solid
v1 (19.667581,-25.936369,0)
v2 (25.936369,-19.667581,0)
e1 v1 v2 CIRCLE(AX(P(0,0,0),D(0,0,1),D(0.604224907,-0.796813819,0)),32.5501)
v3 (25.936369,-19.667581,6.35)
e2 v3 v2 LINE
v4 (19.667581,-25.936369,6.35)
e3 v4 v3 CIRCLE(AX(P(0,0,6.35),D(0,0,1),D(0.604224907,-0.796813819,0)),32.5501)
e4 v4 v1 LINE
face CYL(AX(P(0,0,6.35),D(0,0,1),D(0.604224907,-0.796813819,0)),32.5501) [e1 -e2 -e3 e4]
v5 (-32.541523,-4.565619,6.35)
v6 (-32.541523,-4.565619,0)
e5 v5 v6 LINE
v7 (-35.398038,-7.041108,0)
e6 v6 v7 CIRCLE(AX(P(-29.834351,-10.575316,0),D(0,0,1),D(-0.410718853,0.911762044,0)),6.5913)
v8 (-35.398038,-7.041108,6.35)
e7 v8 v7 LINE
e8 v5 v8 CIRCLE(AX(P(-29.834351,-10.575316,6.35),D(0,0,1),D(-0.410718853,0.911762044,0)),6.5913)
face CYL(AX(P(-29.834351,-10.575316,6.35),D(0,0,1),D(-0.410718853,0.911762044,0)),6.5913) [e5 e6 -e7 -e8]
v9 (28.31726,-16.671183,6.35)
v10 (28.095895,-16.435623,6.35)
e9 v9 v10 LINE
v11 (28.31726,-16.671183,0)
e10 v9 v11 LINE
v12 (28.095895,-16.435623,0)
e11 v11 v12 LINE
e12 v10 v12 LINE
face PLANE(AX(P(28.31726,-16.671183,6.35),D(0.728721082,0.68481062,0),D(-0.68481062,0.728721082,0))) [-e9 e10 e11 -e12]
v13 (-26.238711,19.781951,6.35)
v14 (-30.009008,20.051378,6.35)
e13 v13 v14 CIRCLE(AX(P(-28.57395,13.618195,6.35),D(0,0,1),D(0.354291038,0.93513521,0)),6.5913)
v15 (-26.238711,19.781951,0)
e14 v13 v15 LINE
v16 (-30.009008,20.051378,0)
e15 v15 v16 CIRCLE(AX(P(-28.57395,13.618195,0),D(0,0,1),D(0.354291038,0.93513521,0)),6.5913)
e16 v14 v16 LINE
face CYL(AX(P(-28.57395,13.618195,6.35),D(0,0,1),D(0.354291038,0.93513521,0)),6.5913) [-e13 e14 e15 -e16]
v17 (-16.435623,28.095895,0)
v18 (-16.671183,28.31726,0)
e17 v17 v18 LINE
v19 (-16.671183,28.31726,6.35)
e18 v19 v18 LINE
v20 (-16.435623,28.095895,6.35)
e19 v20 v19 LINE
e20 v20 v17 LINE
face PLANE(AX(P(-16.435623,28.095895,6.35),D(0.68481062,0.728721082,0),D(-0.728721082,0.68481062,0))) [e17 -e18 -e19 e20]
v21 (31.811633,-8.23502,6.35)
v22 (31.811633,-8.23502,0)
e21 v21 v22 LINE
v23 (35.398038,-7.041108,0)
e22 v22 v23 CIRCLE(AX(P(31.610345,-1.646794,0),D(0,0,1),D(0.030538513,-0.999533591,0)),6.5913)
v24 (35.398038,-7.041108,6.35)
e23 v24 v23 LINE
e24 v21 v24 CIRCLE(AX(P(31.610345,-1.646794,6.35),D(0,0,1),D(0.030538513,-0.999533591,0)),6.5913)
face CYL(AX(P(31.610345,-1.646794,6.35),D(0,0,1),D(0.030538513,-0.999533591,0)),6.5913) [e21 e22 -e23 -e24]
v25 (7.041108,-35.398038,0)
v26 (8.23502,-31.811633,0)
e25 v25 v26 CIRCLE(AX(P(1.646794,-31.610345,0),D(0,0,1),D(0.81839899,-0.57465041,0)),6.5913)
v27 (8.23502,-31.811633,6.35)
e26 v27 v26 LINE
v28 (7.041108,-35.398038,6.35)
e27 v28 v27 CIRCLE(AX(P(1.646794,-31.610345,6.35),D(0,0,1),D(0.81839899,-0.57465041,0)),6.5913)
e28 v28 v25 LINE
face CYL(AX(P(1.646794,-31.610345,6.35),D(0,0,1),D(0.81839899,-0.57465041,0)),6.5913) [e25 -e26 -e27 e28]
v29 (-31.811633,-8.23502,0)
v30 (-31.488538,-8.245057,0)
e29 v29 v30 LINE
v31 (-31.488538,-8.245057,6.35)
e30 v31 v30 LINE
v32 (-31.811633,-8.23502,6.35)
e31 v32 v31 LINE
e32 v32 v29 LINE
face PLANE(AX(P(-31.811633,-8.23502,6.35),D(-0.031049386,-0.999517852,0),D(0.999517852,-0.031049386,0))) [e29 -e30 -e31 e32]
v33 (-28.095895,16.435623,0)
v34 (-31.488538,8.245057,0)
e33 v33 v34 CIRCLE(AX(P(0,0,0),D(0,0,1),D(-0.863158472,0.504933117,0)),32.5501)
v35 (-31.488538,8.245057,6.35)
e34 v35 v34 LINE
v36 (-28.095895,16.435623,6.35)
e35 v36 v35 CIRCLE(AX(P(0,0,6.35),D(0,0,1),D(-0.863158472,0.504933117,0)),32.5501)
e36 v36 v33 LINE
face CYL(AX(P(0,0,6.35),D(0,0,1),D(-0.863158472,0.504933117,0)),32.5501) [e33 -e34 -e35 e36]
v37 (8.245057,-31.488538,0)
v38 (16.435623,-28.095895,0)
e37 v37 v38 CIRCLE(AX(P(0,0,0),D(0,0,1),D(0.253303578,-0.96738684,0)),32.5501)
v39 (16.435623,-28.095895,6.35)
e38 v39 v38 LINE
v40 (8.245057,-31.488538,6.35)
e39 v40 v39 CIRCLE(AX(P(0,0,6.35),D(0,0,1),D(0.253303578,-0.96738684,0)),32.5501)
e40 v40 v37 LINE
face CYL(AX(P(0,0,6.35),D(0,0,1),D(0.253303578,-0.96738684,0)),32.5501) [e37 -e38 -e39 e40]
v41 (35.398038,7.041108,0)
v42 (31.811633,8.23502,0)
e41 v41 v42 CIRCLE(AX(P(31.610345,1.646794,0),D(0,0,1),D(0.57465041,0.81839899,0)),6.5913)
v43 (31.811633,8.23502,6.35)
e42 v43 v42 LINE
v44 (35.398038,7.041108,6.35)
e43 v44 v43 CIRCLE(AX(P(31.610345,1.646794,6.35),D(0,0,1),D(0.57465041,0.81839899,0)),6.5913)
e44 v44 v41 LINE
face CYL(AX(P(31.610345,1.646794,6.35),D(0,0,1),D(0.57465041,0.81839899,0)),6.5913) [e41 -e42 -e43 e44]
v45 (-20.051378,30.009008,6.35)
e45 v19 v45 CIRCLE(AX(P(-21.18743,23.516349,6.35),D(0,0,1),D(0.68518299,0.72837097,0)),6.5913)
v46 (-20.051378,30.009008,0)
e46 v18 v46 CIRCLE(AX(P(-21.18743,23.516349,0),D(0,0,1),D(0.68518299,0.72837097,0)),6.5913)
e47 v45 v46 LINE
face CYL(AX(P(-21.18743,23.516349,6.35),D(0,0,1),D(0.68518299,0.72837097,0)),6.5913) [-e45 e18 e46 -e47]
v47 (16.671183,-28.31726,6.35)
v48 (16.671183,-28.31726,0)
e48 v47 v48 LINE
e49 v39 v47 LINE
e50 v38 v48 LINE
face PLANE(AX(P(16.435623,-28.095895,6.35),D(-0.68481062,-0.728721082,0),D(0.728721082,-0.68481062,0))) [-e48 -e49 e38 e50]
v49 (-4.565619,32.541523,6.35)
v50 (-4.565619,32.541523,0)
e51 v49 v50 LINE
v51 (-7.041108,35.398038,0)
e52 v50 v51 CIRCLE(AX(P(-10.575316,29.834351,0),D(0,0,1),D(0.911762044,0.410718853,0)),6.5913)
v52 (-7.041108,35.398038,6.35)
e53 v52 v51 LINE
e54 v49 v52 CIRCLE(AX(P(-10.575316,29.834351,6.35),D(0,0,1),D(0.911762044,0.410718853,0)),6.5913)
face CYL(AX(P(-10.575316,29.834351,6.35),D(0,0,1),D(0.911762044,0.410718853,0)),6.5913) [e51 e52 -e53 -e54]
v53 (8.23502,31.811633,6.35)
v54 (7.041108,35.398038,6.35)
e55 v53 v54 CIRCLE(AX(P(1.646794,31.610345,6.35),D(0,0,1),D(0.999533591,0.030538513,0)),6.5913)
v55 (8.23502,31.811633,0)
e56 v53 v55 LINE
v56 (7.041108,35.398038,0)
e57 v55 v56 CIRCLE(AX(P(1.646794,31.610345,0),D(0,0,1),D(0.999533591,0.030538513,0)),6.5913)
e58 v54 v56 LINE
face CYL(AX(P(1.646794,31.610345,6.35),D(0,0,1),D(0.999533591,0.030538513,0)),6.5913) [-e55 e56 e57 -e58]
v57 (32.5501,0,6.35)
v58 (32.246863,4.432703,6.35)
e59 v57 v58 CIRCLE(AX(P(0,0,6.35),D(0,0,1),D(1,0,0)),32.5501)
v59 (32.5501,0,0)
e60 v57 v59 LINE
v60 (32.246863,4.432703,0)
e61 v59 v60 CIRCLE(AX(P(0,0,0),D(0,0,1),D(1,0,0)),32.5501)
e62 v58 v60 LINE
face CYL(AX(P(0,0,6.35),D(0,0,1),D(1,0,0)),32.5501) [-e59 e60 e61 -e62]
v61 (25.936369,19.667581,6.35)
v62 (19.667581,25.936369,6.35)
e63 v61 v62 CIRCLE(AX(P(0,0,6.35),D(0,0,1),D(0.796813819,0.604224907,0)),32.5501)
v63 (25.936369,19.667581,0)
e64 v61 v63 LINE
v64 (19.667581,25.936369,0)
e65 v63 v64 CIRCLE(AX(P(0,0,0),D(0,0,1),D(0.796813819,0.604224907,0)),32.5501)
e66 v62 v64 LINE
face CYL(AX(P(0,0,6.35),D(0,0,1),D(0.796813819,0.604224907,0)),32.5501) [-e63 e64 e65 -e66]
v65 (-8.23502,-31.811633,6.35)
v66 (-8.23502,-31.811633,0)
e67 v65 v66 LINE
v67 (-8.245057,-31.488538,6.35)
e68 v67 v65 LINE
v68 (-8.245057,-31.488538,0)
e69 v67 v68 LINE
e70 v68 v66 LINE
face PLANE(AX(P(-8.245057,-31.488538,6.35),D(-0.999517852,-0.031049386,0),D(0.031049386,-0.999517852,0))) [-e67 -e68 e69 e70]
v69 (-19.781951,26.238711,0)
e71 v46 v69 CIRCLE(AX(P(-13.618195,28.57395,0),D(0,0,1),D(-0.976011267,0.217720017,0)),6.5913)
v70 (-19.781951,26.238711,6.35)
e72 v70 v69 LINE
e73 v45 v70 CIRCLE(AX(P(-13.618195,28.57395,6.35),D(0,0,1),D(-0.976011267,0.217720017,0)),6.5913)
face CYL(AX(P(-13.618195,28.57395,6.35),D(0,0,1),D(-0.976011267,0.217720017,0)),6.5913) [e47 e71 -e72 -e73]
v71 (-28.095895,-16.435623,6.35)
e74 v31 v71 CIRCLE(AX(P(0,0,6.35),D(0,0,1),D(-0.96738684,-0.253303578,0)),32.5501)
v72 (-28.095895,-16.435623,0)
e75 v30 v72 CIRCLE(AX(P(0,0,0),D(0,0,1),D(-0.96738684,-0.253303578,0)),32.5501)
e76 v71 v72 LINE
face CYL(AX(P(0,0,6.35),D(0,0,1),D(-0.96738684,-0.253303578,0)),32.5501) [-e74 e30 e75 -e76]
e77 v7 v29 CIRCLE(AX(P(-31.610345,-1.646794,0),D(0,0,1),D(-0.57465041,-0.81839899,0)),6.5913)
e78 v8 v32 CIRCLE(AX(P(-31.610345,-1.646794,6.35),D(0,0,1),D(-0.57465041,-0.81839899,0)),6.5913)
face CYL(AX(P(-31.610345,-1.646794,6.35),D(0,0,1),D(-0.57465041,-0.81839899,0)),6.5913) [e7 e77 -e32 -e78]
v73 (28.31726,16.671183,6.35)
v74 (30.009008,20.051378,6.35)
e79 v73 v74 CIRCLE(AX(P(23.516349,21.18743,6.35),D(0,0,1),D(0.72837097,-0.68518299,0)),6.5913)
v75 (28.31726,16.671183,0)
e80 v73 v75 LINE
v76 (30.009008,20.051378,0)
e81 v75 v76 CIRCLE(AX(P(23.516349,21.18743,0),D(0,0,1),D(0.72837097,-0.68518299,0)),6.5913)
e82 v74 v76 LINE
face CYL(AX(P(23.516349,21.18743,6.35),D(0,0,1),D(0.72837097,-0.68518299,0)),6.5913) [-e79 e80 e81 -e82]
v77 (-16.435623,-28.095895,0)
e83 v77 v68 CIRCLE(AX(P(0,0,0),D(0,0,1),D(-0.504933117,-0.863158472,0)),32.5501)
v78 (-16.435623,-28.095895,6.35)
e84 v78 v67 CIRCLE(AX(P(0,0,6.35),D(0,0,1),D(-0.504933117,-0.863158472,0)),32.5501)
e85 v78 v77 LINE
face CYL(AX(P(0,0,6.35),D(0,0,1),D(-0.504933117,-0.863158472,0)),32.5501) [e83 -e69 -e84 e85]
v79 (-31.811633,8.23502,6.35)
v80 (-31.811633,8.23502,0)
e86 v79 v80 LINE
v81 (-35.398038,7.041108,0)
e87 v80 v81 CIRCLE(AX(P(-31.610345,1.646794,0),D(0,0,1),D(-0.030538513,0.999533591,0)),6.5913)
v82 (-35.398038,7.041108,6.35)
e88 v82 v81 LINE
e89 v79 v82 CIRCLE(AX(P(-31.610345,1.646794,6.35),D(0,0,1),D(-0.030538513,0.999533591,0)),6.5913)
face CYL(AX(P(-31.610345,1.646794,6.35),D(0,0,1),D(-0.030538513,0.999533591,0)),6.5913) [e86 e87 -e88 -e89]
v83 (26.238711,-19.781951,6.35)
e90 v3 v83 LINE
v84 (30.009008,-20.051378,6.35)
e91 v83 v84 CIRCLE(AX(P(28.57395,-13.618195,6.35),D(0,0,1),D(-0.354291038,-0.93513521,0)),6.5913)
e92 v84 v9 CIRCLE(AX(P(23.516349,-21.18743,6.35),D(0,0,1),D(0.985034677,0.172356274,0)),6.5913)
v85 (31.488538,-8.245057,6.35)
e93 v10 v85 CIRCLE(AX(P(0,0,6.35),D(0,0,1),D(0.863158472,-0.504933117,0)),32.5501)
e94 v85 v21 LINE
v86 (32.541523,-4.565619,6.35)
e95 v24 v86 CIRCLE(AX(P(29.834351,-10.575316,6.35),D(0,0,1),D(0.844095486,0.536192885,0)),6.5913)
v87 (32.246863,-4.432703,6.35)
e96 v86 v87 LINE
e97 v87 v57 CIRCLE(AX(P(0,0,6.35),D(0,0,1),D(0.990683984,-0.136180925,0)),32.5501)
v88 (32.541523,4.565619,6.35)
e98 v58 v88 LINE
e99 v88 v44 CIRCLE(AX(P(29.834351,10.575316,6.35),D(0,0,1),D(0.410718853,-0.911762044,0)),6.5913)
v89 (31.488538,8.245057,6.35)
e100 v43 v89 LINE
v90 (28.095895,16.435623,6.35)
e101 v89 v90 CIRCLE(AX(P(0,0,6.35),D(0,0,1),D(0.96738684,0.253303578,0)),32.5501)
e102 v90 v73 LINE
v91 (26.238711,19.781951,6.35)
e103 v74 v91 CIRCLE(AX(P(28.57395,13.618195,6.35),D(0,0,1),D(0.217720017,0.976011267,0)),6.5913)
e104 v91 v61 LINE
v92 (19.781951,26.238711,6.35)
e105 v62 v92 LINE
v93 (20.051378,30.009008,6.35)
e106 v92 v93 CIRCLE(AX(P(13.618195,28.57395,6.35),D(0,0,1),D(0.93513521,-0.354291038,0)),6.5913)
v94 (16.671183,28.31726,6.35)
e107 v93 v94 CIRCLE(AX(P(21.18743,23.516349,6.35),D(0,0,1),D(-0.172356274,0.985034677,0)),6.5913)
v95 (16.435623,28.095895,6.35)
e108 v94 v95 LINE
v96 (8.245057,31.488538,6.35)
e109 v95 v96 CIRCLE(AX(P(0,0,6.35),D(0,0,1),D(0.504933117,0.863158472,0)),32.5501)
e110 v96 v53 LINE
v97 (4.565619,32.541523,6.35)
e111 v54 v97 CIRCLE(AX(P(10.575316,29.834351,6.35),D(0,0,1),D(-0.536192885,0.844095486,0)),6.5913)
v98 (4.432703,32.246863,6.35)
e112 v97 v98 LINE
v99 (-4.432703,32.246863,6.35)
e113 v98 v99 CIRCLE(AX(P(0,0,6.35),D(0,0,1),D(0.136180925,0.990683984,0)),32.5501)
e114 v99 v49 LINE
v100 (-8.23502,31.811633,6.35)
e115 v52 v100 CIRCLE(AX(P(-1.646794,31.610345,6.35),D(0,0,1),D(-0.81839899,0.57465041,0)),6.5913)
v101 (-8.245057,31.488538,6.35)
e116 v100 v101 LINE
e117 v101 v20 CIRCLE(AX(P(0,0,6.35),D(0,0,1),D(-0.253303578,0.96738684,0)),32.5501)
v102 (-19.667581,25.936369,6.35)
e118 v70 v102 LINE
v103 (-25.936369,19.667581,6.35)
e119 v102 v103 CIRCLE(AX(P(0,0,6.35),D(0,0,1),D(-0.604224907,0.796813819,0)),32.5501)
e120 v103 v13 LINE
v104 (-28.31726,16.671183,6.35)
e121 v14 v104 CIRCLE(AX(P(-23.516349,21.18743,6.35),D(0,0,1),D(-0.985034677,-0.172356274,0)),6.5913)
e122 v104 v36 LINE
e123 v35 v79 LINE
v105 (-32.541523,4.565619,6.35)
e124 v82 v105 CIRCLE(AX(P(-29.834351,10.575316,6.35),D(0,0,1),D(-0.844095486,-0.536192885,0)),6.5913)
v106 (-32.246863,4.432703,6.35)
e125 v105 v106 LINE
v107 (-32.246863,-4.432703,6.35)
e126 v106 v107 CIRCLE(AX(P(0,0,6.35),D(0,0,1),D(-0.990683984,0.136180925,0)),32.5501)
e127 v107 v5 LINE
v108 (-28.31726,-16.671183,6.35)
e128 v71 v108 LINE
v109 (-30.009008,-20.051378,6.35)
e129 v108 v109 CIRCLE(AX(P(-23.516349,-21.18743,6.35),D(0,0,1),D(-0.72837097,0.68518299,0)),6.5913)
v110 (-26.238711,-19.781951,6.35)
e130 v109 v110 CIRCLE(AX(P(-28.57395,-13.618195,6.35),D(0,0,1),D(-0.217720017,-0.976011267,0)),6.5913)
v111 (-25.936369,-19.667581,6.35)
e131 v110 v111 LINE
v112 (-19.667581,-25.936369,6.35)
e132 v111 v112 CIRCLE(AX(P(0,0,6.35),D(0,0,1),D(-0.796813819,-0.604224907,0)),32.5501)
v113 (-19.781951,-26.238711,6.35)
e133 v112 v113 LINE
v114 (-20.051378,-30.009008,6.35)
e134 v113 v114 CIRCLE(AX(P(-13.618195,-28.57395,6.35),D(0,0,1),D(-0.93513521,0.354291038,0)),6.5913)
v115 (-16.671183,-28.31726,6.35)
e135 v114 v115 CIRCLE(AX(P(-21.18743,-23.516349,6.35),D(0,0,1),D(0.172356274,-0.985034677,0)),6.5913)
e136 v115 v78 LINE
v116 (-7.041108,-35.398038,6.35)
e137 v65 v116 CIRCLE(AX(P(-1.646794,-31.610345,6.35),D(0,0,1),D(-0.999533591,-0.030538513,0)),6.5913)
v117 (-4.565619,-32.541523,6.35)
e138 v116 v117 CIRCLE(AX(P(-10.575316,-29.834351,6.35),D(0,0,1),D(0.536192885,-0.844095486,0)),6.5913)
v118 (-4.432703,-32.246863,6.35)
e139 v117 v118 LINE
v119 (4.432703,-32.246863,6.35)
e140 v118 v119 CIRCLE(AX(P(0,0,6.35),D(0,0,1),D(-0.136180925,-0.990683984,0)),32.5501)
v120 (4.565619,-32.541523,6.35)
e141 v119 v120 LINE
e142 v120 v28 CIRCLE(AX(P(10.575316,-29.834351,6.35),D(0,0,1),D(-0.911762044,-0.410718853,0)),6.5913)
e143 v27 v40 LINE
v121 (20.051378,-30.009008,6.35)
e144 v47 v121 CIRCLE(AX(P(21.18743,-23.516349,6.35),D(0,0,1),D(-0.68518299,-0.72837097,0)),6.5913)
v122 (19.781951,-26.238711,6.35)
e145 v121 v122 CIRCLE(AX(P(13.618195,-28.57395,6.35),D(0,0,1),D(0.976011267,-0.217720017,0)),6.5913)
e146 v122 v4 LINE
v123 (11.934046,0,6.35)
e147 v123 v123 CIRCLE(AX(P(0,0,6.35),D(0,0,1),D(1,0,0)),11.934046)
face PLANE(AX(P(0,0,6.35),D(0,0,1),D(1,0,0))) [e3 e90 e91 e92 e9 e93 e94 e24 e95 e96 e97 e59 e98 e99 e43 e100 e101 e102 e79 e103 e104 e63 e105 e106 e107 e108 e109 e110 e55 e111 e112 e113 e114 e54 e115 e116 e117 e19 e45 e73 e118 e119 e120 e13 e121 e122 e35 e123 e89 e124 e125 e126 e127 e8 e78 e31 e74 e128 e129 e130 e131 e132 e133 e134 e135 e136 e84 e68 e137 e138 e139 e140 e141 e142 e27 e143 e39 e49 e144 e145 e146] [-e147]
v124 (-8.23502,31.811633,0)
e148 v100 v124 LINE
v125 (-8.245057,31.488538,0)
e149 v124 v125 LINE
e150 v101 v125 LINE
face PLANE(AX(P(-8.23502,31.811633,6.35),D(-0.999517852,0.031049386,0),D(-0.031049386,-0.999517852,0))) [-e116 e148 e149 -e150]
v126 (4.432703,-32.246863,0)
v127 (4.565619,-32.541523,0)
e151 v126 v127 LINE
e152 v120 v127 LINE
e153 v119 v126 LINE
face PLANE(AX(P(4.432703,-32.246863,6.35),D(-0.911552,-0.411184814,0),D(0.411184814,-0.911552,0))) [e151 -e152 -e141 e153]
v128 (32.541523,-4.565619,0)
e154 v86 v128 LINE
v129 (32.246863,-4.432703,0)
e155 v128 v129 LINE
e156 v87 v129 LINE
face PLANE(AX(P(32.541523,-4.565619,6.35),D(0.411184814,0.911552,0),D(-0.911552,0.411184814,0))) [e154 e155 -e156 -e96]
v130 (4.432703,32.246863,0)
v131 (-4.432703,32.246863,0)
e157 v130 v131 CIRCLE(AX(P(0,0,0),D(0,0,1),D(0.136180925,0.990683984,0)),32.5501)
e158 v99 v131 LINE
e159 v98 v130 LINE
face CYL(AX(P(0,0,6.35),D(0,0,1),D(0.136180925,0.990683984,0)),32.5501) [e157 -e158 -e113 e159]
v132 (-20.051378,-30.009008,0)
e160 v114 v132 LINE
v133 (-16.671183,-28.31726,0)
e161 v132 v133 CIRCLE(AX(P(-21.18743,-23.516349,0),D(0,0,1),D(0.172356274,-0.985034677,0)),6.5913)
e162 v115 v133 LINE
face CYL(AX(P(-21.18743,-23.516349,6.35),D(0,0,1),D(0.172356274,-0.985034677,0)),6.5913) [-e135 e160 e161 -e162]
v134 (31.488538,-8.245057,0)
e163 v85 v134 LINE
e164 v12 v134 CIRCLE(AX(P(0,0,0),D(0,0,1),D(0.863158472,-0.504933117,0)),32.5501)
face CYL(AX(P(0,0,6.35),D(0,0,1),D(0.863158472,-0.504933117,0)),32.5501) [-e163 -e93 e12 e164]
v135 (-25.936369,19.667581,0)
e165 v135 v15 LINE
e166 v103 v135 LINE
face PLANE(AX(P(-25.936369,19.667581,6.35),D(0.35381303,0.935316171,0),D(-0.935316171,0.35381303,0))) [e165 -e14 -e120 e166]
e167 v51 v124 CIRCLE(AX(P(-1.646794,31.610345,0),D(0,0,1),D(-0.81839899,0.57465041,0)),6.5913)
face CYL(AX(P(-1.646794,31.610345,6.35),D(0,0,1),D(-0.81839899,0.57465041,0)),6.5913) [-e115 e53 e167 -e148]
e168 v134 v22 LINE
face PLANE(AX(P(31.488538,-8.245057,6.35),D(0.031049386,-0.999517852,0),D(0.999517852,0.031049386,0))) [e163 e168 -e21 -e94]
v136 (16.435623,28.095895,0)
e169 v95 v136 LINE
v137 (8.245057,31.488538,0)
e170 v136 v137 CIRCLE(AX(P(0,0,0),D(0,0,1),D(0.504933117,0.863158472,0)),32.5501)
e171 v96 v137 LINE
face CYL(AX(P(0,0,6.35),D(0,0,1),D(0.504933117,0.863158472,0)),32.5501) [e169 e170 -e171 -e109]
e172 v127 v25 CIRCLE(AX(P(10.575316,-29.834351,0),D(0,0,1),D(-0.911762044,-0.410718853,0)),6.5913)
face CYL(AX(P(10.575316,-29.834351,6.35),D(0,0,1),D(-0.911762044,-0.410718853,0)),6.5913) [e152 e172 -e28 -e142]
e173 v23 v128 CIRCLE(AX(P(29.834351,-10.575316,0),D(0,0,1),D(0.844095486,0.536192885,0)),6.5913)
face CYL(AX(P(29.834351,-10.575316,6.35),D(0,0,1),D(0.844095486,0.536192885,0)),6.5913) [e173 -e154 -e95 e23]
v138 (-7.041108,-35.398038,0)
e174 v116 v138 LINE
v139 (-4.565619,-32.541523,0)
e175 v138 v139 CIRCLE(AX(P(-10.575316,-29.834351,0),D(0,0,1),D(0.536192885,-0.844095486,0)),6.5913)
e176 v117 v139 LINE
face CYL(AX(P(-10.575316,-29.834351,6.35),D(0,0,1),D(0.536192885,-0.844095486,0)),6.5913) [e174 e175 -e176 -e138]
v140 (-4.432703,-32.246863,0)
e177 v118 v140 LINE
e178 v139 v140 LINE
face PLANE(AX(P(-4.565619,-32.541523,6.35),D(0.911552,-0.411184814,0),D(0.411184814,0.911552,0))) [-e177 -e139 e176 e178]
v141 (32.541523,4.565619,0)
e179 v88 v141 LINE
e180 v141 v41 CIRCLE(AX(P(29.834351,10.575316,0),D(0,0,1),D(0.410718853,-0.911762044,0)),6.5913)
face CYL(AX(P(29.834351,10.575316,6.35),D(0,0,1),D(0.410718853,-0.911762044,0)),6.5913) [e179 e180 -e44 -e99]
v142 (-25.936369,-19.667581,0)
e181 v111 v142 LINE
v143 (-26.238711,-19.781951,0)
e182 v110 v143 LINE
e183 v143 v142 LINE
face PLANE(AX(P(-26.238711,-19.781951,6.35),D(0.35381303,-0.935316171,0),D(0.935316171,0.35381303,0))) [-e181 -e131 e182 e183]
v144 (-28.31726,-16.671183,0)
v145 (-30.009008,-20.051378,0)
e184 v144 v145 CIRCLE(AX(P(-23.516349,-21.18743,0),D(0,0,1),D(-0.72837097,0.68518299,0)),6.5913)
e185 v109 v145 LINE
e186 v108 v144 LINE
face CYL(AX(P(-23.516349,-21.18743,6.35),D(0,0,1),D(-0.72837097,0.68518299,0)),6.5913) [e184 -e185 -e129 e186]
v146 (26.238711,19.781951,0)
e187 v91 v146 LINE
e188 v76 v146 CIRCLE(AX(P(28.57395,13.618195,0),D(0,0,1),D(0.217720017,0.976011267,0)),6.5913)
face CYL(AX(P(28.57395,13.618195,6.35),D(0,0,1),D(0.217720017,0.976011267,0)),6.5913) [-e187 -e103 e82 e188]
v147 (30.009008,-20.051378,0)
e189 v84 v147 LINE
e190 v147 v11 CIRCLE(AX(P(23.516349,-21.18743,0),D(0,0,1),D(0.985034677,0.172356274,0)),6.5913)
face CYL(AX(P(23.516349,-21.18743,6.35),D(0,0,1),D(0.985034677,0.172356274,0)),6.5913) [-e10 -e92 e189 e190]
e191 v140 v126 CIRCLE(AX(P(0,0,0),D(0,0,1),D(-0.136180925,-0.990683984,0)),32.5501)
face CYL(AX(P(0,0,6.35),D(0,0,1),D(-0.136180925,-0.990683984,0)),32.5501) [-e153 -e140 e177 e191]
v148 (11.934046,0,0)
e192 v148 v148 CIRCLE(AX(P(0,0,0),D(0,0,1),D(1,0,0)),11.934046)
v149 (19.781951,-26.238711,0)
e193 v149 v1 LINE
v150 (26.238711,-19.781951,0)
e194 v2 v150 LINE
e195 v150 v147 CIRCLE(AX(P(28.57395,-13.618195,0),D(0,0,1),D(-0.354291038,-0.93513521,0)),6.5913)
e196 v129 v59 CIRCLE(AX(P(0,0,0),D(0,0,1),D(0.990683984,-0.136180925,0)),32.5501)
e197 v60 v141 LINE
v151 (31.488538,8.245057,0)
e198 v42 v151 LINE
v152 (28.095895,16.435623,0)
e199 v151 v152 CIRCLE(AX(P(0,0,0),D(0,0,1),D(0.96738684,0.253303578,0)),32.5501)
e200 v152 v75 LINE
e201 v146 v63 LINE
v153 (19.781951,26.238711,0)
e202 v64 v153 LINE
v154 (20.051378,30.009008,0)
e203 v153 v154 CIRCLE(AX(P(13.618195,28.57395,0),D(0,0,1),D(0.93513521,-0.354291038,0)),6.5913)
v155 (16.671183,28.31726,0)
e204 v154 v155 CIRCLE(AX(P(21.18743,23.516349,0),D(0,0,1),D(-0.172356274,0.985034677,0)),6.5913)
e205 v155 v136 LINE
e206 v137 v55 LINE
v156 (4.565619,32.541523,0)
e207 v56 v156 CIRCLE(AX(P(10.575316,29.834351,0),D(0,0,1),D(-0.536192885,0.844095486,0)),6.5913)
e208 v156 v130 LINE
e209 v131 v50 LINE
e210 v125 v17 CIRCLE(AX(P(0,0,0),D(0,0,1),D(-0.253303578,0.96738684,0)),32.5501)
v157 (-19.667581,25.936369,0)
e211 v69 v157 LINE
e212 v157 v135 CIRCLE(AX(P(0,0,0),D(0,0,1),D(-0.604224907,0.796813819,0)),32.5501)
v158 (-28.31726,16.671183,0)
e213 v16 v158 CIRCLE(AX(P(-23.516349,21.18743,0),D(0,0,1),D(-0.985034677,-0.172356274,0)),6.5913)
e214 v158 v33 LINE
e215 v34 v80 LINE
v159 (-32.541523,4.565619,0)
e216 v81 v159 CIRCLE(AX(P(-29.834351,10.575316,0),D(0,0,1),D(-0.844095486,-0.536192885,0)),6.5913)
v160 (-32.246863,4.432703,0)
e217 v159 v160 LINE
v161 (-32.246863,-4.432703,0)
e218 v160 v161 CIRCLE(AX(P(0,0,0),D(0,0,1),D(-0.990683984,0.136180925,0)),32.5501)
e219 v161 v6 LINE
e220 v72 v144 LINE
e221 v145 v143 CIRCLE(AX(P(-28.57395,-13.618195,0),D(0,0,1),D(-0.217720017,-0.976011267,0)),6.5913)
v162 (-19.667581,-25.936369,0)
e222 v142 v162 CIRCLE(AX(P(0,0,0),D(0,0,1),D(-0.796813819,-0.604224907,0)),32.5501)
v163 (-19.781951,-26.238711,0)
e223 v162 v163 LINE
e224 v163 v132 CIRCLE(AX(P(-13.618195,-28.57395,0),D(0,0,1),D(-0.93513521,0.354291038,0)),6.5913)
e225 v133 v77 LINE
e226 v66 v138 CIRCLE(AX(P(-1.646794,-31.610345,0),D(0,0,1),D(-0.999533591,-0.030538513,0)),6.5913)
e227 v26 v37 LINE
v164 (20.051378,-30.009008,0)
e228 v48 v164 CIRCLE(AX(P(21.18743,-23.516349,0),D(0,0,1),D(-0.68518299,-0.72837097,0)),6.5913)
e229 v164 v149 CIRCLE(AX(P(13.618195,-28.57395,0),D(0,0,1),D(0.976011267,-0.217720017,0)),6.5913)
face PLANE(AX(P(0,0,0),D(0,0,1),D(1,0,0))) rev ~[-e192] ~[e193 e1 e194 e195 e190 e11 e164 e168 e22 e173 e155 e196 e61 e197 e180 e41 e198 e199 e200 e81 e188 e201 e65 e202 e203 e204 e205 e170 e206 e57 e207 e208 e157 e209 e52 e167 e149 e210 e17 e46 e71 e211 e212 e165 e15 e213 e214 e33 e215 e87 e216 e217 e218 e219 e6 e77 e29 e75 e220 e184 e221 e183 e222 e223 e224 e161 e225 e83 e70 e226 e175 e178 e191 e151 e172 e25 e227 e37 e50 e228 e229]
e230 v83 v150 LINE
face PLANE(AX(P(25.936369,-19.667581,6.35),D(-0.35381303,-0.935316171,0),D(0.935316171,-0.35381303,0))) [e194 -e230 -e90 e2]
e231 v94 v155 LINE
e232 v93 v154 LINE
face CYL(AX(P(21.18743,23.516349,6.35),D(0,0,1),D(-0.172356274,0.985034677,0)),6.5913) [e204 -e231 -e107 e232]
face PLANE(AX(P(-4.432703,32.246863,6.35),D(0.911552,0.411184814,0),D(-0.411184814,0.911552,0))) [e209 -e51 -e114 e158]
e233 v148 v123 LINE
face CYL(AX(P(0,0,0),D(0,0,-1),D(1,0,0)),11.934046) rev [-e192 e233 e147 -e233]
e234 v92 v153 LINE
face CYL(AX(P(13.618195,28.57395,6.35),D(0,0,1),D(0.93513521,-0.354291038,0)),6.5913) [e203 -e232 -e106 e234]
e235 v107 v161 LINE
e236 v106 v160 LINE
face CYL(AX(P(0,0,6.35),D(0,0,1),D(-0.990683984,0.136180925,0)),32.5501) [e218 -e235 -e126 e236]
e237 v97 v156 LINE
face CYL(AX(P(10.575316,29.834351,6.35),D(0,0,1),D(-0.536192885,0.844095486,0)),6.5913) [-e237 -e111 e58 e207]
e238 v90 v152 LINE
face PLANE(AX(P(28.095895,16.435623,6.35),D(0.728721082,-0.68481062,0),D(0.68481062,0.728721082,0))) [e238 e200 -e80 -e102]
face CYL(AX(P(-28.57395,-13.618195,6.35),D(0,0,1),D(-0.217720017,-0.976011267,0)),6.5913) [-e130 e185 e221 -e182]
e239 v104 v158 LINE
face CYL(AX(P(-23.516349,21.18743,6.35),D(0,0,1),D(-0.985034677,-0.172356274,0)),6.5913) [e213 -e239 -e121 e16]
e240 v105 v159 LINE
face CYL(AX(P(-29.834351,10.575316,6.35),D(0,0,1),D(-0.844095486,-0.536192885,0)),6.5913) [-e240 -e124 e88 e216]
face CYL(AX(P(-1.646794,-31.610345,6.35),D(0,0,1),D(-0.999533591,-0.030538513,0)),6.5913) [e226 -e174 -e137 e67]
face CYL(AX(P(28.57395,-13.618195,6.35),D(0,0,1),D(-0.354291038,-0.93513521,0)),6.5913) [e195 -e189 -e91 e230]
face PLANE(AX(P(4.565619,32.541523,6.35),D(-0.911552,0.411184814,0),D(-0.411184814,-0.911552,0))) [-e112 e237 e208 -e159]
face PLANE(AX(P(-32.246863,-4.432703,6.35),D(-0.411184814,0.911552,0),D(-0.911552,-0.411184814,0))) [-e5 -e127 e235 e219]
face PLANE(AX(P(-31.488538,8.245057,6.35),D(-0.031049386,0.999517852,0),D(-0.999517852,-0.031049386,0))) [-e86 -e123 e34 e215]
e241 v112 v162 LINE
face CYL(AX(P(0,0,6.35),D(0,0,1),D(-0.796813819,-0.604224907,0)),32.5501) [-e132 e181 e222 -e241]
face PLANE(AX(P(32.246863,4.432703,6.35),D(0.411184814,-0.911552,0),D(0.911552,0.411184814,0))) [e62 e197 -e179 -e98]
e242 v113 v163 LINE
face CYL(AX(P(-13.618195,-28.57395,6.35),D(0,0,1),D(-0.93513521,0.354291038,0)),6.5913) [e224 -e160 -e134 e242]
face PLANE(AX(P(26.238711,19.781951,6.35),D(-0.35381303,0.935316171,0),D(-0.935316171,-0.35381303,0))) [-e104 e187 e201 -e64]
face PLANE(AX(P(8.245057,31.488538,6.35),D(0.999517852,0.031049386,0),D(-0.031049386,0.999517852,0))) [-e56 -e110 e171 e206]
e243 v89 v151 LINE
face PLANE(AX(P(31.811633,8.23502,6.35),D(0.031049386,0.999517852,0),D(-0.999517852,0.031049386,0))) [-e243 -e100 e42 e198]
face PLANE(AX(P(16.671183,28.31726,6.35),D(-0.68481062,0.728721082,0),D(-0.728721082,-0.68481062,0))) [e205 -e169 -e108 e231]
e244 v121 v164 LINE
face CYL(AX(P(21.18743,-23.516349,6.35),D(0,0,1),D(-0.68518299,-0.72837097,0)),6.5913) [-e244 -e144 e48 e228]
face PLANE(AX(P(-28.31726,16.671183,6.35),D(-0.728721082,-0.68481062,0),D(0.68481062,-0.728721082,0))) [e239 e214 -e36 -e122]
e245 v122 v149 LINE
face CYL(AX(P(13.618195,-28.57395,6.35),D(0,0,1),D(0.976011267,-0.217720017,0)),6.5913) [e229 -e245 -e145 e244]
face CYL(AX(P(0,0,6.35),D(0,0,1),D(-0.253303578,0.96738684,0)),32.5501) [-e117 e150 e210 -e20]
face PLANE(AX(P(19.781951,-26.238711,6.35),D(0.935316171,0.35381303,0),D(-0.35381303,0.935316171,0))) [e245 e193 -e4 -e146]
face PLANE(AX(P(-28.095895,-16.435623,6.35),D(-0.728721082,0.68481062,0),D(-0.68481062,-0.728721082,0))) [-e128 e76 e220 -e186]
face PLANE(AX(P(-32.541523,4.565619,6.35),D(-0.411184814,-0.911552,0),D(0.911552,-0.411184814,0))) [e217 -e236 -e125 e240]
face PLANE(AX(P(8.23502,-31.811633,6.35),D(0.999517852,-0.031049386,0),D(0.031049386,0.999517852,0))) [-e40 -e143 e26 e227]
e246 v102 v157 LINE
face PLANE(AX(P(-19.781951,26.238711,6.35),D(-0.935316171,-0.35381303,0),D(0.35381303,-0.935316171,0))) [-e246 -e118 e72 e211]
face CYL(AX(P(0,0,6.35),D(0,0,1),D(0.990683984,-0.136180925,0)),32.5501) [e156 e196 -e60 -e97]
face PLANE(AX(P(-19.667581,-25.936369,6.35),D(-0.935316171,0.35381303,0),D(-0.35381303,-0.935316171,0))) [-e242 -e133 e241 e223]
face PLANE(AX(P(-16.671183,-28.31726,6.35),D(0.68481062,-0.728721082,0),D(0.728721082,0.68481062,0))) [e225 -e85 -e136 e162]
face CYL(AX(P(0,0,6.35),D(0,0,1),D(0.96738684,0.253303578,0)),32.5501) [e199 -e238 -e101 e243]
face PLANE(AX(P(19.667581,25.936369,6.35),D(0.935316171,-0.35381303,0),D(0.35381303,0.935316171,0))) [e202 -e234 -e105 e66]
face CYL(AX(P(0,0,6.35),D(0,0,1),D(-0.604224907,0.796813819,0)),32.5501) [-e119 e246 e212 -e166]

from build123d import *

# Parameters (mm, degrees)
F0_R     = 44.45
F0_R_2   = 25.4
F0_R_3   = 11.9340457022
F1_DEPTH = 6.35
F3_DEPTH = 6.35


with BuildPart() as f1:
    # F0 (on Top) → F1 (new body)
    with BuildSketch(Plane.XY):
        Circle(F0_R)
        Circle(F0_R_2, mode=Mode.SUBTRACT)
        Circle(F0_R_2)
        Circle(F0_R_3, mode=Mode.SUBTRACT)
    extrude(amount=F1_DEPTH)

    # F2 (on face) → F3 (intersect)
    with BuildSketch(Plane.XY.offset(6.35)):
        with BuildLine():
            ThreePointArc((32.2468627383, -4.4327027358), (32.4742021983, -2.2215313627), (32.5501, 0))
            ThreePointArc((32.5501, 0), (32.4742021983, 2.2215313627), (32.2468627383, 4.4327027358))
            ThreePointArc((32.2468627383, 4.4327027358), (31.1168279297, 3.8288728943), (30.0699408338, 3.0902142758))
            ThreePointArc((30.0699408338, 3.0902142758), (28.5877, 0), (30.0699408338, -3.0902142758))
            ThreePointArc((30.0699408338, -3.0902142758), (31.1168279297, -3.8288728943), (32.2468627383, -4.4327027358))
        make_face()
        with BuildLine():
            ThreePointArc((30.0699408338, 3.0902142758), (31.1168279297, 3.8288728943), (32.2468627383, 4.4327027358))
            ThreePointArc((32.2468627383, 4.4327027358), (31.9246589557, 6.3502094907), (31.4885383693, 8.2450567844))
            ThreePointArc((31.4885383693, 8.2450567844), (30.2134466622, 8.3704772169), (28.963576686, 8.6522824488))
            ThreePointArc((28.963576686, 8.6522824488), (26.4115909116, 10.9400391594), (26.5984290744, 14.3622538898))
            ThreePointArc((26.5984290744, 14.3622538898), (27.2829542197, 15.4453118161), (28.0958945741, 16.4356234471))
            ThreePointArc((28.0958945741, 16.4356234471), (27.0644190274, 18.0838666418), (25.9363694778, 19.6675811508))
            ThreePointArc((25.9363694778, 19.6675811508), (24.710342026, 19.2954980503), (23.4477705432, 19.0775476037))
            ThreePointArc((23.4477705432, 19.0775476037), (20.2145565285, 20.2145565285), (19.0775476037, 23.4477705432))
            ThreePointArc((19.0775476037, 23.4477705432), (19.2954980503, 24.710342026), (19.6675811508, 25.9363694778))
            ThreePointArc((19.6675811508, 25.9363694778), (18.0838666418, 27.0644190274), (16.4356234471, 28.0958945741))
            ThreePointArc((16.4356234471, 28.0958945741), (15.4453118161, 27.2829542197), (14.3622538898, 26.5984290744))
            ThreePointArc((14.3622538898, 26.5984290744), (10.9400391594, 26.4115909116), (8.6522824488, 28.963576686))
            ThreePointArc((8.6522824488, 28.963576686), (8.3704772169, 30.2134466622), (8.2450567844, 31.4885383693))
            ThreePointArc((8.2450567844, 31.4885383693), (6.3502094907, 31.9246589557), (4.4327027358, 32.2468627383))
            ThreePointArc((4.4327027358, 32.2468627383), (3.8288728943, 31.1168279297), (3.0902142758, 30.0699408338))
            ThreePointArc((3.0902142758, 30.0699408338), (0, 28.5877), (-3.0902142758, 30.0699408338))
            ThreePointArc((-3.0902142758, 30.0699408338), (-3.8288728943, 31.1168279297), (-4.4327027358, 32.2468627383))
            ThreePointArc((-4.4327027358, 32.2468627383), (-6.3502094907, 31.9246589557), (-8.2450567844, 31.4885383693))
            ThreePointArc((-8.2450567844, 31.4885383693), (-8.3704772169, 30.2134466622), (-8.6522824488, 28.963576686))
            ThreePointArc((-8.6522824488, 28.963576686), (-10.9400391594, 26.4115909116), (-14.3622538898, 26.5984290744))
            ThreePointArc((-14.3622538898, 26.5984290744), (-15.4453118161, 27.2829542197), (-16.4356234471, 28.0958945741))
            ThreePointArc((-16.4356234471, 28.0958945741), (-18.0838666418, 27.0644190274), (-19.6675811508, 25.9363694778))
            ThreePointArc((-19.6675811508, 25.9363694778), (-19.2954980503, 24.710342026), (-19.0775476037, 23.4477705432))
            ThreePointArc((-19.0775476037, 23.4477705432), (-20.2145565285, 20.2145565285), (-23.4477705432, 19.0775476037))
            ThreePointArc((-23.4477705432, 19.0775476037), (-24.710342026, 19.2954980503), (-25.9363694778, 19.6675811508))
            ThreePointArc((-25.9363694778, 19.6675811508), (-27.0644190274, 18.0838666418), (-28.0958945741, 16.4356234471))
            ThreePointArc((-28.0958945741, 16.4356234471), (-27.2829542197, 15.4453118161), (-26.5984290744, 14.3622538898))
            ThreePointArc((-26.5984290744, 14.3622538898), (-26.4115909116, 10.9400391594), (-28.963576686, 8.6522824488))
            ThreePointArc((-28.963576686, 8.6522824488), (-30.2134466622, 8.3704772169), (-31.4885383693, 8.2450567844))
            ThreePointArc((-31.4885383693, 8.2450567844), (-31.9246589557, 6.3502094907), (-32.2468627383, 4.4327027358))
            ThreePointArc((-32.2468627383, 4.4327027358), (-31.1168279297, 3.8288728943), (-30.0699408338, 3.0902142758))
            ThreePointArc((-30.0699408338, 3.0902142758), (-28.5877, 0), (-30.0699408338, -3.0902142758))
            ThreePointArc((-30.0699408338, -3.0902142758), (-31.1168279297, -3.8288728943), (-32.2468627383, -4.4327027358))
            ThreePointArc((-32.2468627383, -4.4327027358), (-31.9246589557, -6.3502094907), (-31.4885383693, -8.2450567844))
            ThreePointArc((-31.4885383693, -8.2450567844), (-30.2134466622, -8.3704772169), (-28.963576686, -8.6522824488))
            ThreePointArc((-28.963576686, -8.6522824488), (-26.4115909116, -10.9400391594), (-26.5984290744, -14.3622538898))
            ThreePointArc((-26.5984290744, -14.3622538898), (-27.2829542197, -15.4453118161), (-28.0958945741, -16.4356234471))
            ThreePointArc((-28.0958945741, -16.4356234471), (-27.0644190274, -18.0838666418), (-25.9363694778, -19.6675811508))
            ThreePointArc((-25.9363694778, -19.6675811508), (-24.710342026, -19.2954980503), (-23.4477705432, -19.0775476037))
            ThreePointArc((-23.4477705432, -19.0775476037), (-20.2145565285, -20.2145565285), (-19.0775476037, -23.4477705432))
            ThreePointArc((-19.0775476037, -23.4477705432), (-19.2954980503, -24.710342026), (-19.6675811508, -25.9363694778))
            ThreePointArc((-19.6675811508, -25.9363694778), (-18.0838666418, -27.0644190274), (-16.4356234471, -28.0958945741))
            ThreePointArc((-16.4356234471, -28.0958945741), (-15.4453118161, -27.2829542197), (-14.3622538898, -26.5984290744))
            ThreePointArc((-14.3622538898, -26.5984290744), (-10.9400391594, -26.4115909116), (-8.6522824488, -28.963576686))
            ThreePointArc((-8.6522824488, -28.963576686), (-8.3704772169, -30.2134466622), (-8.2450567844, -31.4885383693))
            ThreePointArc((-8.2450567844, -31.4885383693), (-6.3502094907, -31.9246589557), (-4.4327027358, -32.2468627383))
            ThreePointArc((-4.4327027358, -32.2468627383), (-3.8288728943, -31.1168279297), (-3.0902142758, -30.0699408338))
            ThreePointArc((-3.0902142758, -30.0699408338), (0, -28.5877), (3.0902142758, -30.0699408338))
            ThreePointArc((3.0902142758, -30.0699408338), (3.8288728943, -31.1168279297), (4.4327027358, -32.2468627383))
            ThreePointArc((4.4327027358, -32.2468627383), (6.3502094907, -31.9246589557), (8.2450567844, -31.4885383693))
            ThreePointArc((8.2450567844, -31.4885383693), (8.3704772169, -30.2134466622), (8.6522824488, -28.963576686))
            ThreePointArc((8.6522824488, -28.963576686), (10.9400391594, -26.4115909116), (14.3622538898, -26.5984290744))
            ThreePointArc((14.3622538898, -26.5984290744), (15.4453118161, -27.2829542197), (16.4356234471, -28.0958945741))
            ThreePointArc((16.4356234471, -28.0958945741), (18.0838666418, -27.0644190274), (19.6675811508, -25.9363694778))
            ThreePointArc((19.6675811508, -25.9363694778), (19.2954980503, -24.710342026), (19.0775476037, -23.4477705432))
            ThreePointArc((19.0775476037, -23.4477705432), (20.2145565285, -20.2145565285), (23.4477705432, -19.0775476037))
            ThreePointArc((23.4477705432, -19.0775476037), (24.710342026, -19.2954980503), (25.9363694778, -19.6675811508))
            ThreePointArc((25.9363694778, -19.6675811508), (27.0644190274, -18.0838666418), (28.0958945741, -16.4356234471))
            ThreePointArc((28.0958945741, -16.4356234471), (27.2829542197, -15.4453118161), (26.5984290744, -14.3622538898))
            ThreePointArc((26.5984290744, -14.3622538898), (26.4115909116, -10.9400391594), (28.963576686, -8.6522824488))
            ThreePointArc((28.963576686, -8.6522824488), (30.2134466622, -8.3704772169), (31.4885383693, -8.2450567844))
            ThreePointArc((31.4885383693, -8.2450567844), (31.9246589557, -6.3502094907), (32.2468627383, -4.4327027358))
            ThreePointArc((32.2468627383, -4.4327027358), (31.1168279297, -3.8288728943), (30.0699408338, -3.0902142758))
            ThreePointArc((30.0699408338, -3.0902142758), (28.5877, 0), (30.0699408338, 3.0902142758))
        make_face()
        with BuildLine():
            ThreePointArc((31.4885383693, 8.2450567844), (31.9246589557, 6.3502094907), (32.2468627383, 4.4327027358))
            Line((32.2468627383, 4.4327027358), (32.5415226488, 4.5656185547))
            ThreePointArc((32.5415226488, 4.5656185547), (34.1510381023, 5.5942061718), (35.3980380551, 7.0411075501))
            ThreePointArc((35.3980380551, 7.0411075501), (33.6922551359, 7.900663897), (31.8116333114, 8.2350200457))
            Line((31.8116333114, 8.2350200457), (31.4885383693, 8.2450567844))
        make_face()
        with BuildLine():
            Line((32.5415226488, -4.5656185547), (32.2468627383, -4.4327027358))
            ThreePointArc((32.2468627383, -4.4327027358), (31.9246589557, -6.3502094907), (31.4885383693, -8.2450567844))
            Line((31.4885383693, -8.2450567844), (31.8116333114, -8.2350200457))
            ThreePointArc((31.8116333114, -8.2350200457), (33.6922551359, -7.900663897), (35.3980380551, -7.0411075501))
            ThreePointArc((35.3980380551, -7.0411075501), (34.1510381023, -5.5942061718), (32.5415226488, -4.5656185547))
        make_face()
        with BuildLine():
            ThreePointArc((28.963576686, 8.6522824488), (30.2134466622, 8.3704772169), (31.4885383693, 8.2450567844))
            ThreePointArc((31.4885383693, 8.2450567844), (30.0723711712, 12.4563839918), (28.0958945741, 16.4356234471))
            ThreePointArc((28.0958945741, 16.4356234471), (27.2829542197, 15.4453118161), (26.5984290744, 14.3622538898))
            ThreePointArc((26.5984290744, 14.3622538898), (26.4115909116, 10.9400391594), (28.963576686, 8.6522824488))
        make_face()
        with BuildLine():
            ThreePointArc((28.0958945741, -16.4356234471), (30.0723711712, -12.4563839918), (31.4885383693, -8.2450567844))
            ThreePointArc((31.4885383693, -8.2450567844), (30.2134466622, -8.3704772169), (28.963576686, -8.6522824488))
            ThreePointArc((28.963576686, -8.6522824488), (26.4115909116, -10.9400391594), (26.5984290744, -14.3622538898))
            ThreePointArc((26.5984290744, -14.3622538898), (27.2829542197, -15.4453118161), (28.0958945741, -16.4356234471))
        make_face()
        with BuildLine():
            ThreePointArc((25.9363694778, 19.6675811508), (27.0644190274, 18.0838666418), (28.0958945741, 16.4356234471))
            Line((28.0958945741, 16.4356234471), (28.3172601526, 16.6711831176))
            ThreePointArc((28.3172601526, 16.6711831176), (29.4106350975, 18.2374090626), (30.0090076452, 20.0513778537))
            ThreePointArc((30.0090076452, 20.0513778537), (28.1041317461, 20.1927295073), (26.2387111755, 19.7819514948))
            Line((26.2387111755, 19.7819514948), (25.9363694778, 19.6675811508))
        make_face()
        with BuildLine():
            Line((28.3172601526, -16.6711831176), (28.0958945741, -16.4356234471))
            ThreePointArc((28.0958945741, -16.4356234471), (27.0644190274, -18.0838666418), (25.9363694778, -19.6675811508))
            Line((25.9363694778, -19.6675811508), (26.2387111755, -19.7819514948))
            ThreePointArc((26.2387111755, -19.7819514948), (28.1041317461, -20.1927295073), (30.0090076452, -20.0513778537))
            ThreePointArc((30.0090076452, -20.0513778537), (29.4106350975, -18.2374090626), (28.3172601526, -16.6711831176))
        make_face()
        with BuildLine():
            ThreePointArc((23.4477705432, 19.0775476037), (24.710342026, 19.2954980503), (25.9363694778, 19.6675811508))
            ThreePointArc((25.9363694778, 19.6675811508), (23.0163964383, 23.0163964383), (19.6675811508, 25.9363694778))
            ThreePointArc((19.6675811508, 25.9363694778), (19.2954980503, 24.710342026), (19.0775476037, 23.4477705432))
            ThreePointArc((19.0775476037, 23.4477705432), (20.2145565285, 20.2145565285), (23.4477705432, 19.0775476037))
        make_face()
        with BuildLine():
            ThreePointArc((19.6675811508, -25.9363694778), (23.0163964383, -23.0163964383), (25.9363694778, -19.6675811508))
            ThreePointArc((25.9363694778, -19.6675811508), (24.710342026, -19.2954980503), (23.4477705432, -19.0775476037))
            ThreePointArc((23.4477705432, -19.0775476037), (20.2145565285, -20.2145565285), (19.0775476037, -23.4477705432))
            ThreePointArc((19.0775476037, -23.4477705432), (19.2954980503, -24.710342026), (19.6675811508, -25.9363694778))
        make_face()
        with BuildLine():
            ThreePointArc((16.4356234471, 28.0958945741), (18.0838666418, 27.0644190274), (19.6675811508, 25.9363694778))
            Line((19.6675811508, 25.9363694778), (19.7819514948, 26.2387111755))
            ThreePointArc((19.7819514948, 26.2387111755), (20.1927295073, 28.1041317461), (20.0513778537, 30.0090076452))
            ThreePointArc((20.0513778537, 30.0090076452), (18.2374090626, 29.4106350975), (16.6711831176, 28.3172601526))
            Line((16.6711831176, 28.3172601526), (16.4356234471, 28.0958945741))
        make_face()
        with BuildLine():
            Line((19.7819514948, -26.2387111755), (19.6675811508, -25.9363694778))
            ThreePointArc((19.6675811508, -25.9363694778), (18.0838666418, -27.0644190274), (16.4356234471, -28.0958945741))
            Line((16.4356234471, -28.0958945741), (16.6711831176, -28.3172601526))
            ThreePointArc((16.6711831176, -28.3172601526), (18.2374090626, -29.4106350975), (20.0513778537, -30.0090076452))
            ThreePointArc((20.0513778537, -30.0090076452), (20.1927295073, -28.1041317461), (19.7819514948, -26.2387111755))
        make_face()
        with BuildLine():
            ThreePointArc((14.3622538898, 26.5984290744), (15.4453118161, 27.2829542197), (16.4356234471, 28.0958945741))
            ThreePointArc((16.4356234471, 28.0958945741), (12.4563839918, 30.0723711712), (8.2450567844, 31.4885383693))
            ThreePointArc((8.2450567844, 31.4885383693), (8.3704772169, 30.2134466622), (8.6522824488, 28.963576686))
            ThreePointArc((8.6522824488, 28.963576686), (10.9400391594, 26.4115909116), (14.3622538898, 26.5984290744))
        make_face()
        with BuildLine():
            ThreePointArc((8.2450567844, -31.4885383693), (12.4563839918, -30.0723711712), (16.4356234471, -28.0958945741))
            ThreePointArc((16.4356234471, -28.0958945741), (15.4453118161, -27.2829542197), (14.3622538898, -26.5984290744))
            ThreePointArc((14.3622538898, -26.5984290744), (10.9400391594, -26.4115909116), (8.6522824488, -28.963576686))
            ThreePointArc((8.6522824488, -28.963576686), (8.3704772169, -30.2134466622), (8.2450567844, -31.4885383693))
        make_face()
        with BuildLine():
            ThreePointArc((4.4327027358, 32.2468627383), (6.3502094907, 31.9246589557), (8.2450567844, 31.4885383693))
            Line((8.2450567844, 31.4885383693), (8.2350200457, 31.8116333114))
            ThreePointArc((8.2350200457, 31.8116333114), (7.900663897, 33.6922551359), (7.0411075501, 35.3980380551))
            ThreePointArc((7.0411075501, 35.3980380551), (5.5942061718, 34.1510381023), (4.5656185547, 32.5415226488))
            Line((4.5656185547, 32.5415226488), (4.4327027358, 32.2468627383))
        make_face()
        with BuildLine():
            Line((8.2350200457, -31.8116333114), (8.2450567844, -31.4885383693))
            ThreePointArc((8.2450567844, -31.4885383693), (6.3502094907, -31.9246589557), (4.4327027358, -32.2468627383))
            Line((4.4327027358, -32.2468627383), (4.5656185547, -32.5415226488))
            ThreePointArc((4.5656185547, -32.5415226488), (5.5942061718, -34.1510381023), (7.0411075501, -35.3980380551))
            ThreePointArc((7.0411075501, -35.3980380551), (7.900663897, -33.6922551359), (8.2350200457, -31.8116333114))
        make_face()
        with BuildLine():
            ThreePointArc((3.0902142758, 30.0699408338), (3.8288728943, 31.1168279297), (4.4327027358, 32.2468627383))
            ThreePointArc((4.4327027358, 32.2468627383), (0, 32.5501), (-4.4327027358, 32.2468627383))
            ThreePointArc((-4.4327027358, 32.2468627383), (-3.8288728943, 31.1168279297), (-3.0902142758, 30.0699408338))
            ThreePointArc((-3.0902142758, 30.0699408338), (0, 28.5877), (3.0902142758, 30.0699408338))
        make_face()
        with BuildLine():
            ThreePointArc((-4.4327027358, -32.2468627383), (0, -32.5501), (4.4327027358, -32.2468627383))
            ThreePointArc((4.4327027358, -32.2468627383), (3.8288728943, -31.1168279297), (3.0902142758, -30.0699408338))
            ThreePointArc((3.0902142758, -30.0699408338), (0, -28.5877), (-3.0902142758, -30.0699408338))
            ThreePointArc((-3.0902142758, -30.0699408338), (-3.8288728943, -31.1168279297), (-4.4327027358, -32.2468627383))
        make_face()
        with BuildLine():
            ThreePointArc((-8.2450567844, 31.4885383693), (-6.3502094907, 31.9246589557), (-4.4327027358, 32.2468627383))
            Line((-4.4327027358, 32.2468627383), (-4.4568878106, 32.3001493474))
            Line((-4.4568878106, 32.3001493474), (-4.5656185547, 32.5415226488))
            ThreePointArc((-4.5656185547, 32.5415226488), (-5.5942061718, 34.1510381023), (-7.0411075501, 35.3980380551))
            ThreePointArc((-7.0411075501, 35.3980380551), (-7.900663897, 33.6922551359), (-8.2350200457, 31.8116333114))
            Line((-8.2350200457, 31.8116333114), (-8.2450567844, 31.4885383693))
        make_face()
        Polygon((-4.4568878106, 32.3001493474), (-4.4327027358, 32.2468627383), (-4.5656185547, 32.5415226488), align=None)
        with BuildLine():
            Line((-4.5656185547, -32.5415226488), (-4.4327027358, -32.2468627383))
            ThreePointArc((-4.4327027358, -32.2468627383), (-6.3502094907, -31.9246589557), (-8.2450567844, -31.4885383693))
            Line((-8.2450567844, -31.4885383693), (-8.2350200457, -31.8116333114))
            ThreePointArc((-8.2350200457, -31.8116333114), (-7.900663897, -33.6922551359), (-7.0411075501, -35.3980380551))
            ThreePointArc((-7.0411075501, -35.3980380551), (-5.5942061718, -34.1510381023), (-4.5656185547, -32.5415226488))
        make_face()
        with BuildLine():
            ThreePointArc((-8.6522824488, 28.963576686), (-8.3704772169, 30.2134466622), (-8.2450567844, 31.4885383693))
            ThreePointArc((-8.2450567844, 31.4885383693), (-12.4563839918, 30.0723711712), (-16.4356234471, 28.0958945741))
            ThreePointArc((-16.4356234471, 28.0958945741), (-15.4453118161, 27.2829542197), (-14.3622538898, 26.5984290744))
            ThreePointArc((-14.3622538898, 26.5984290744), (-10.9400391594, 26.4115909116), (-8.6522824488, 28.963576686))
        make_face()
        with BuildLine():
            ThreePointArc((-16.4356234471, -28.0958945741), (-12.4563839918, -30.0723711712), (-8.2450567844, -31.4885383693))
            ThreePointArc((-8.2450567844, -31.4885383693), (-8.3704772169, -30.2134466622), (-8.6522824488, -28.963576686))
            ThreePointArc((-8.6522824488, -28.963576686), (-10.9400391594, -26.4115909116), (-14.3622538898, -26.5984290744))
            ThreePointArc((-14.3622538898, -26.5984290744), (-15.4453118161, -27.2829542197), (-16.4356234471, -28.0958945741))
        make_face()
        with BuildLine():
            ThreePointArc((-19.6675811508, 25.9363694778), (-18.0838666418, 27.0644190274), (-16.4356234471, 28.0958945741))
            Line((-16.4356234471, 28.0958945741), (-16.6711831176, 28.3172601526))
            ThreePointArc((-16.6711831176, 28.3172601526), (-18.2374090626, 29.4106350975), (-20.0513778537, 30.0090076452))
            ThreePointArc((-20.0513778537, 30.0090076452), (-20.1927295073, 28.1041317461), (-19.7819514948, 26.2387111755))
            Line((-19.7819514948, 26.2387111755), (-19.6675811508, 25.9363694778))
        make_face()
        with BuildLine():
            Line((-16.6711831176, -28.3172601526), (-16.4356234471, -28.0958945741))
            ThreePointArc((-16.4356234471, -28.0958945741), (-18.0838666418, -27.0644190274), (-19.6675811508, -25.9363694778))
            Line((-19.6675811508, -25.9363694778), (-19.7819514948, -26.2387111755))
            ThreePointArc((-19.7819514948, -26.2387111755), (-20.1927295073, -28.1041317461), (-20.0513778537, -30.0090076452))
            ThreePointArc((-20.0513778537, -30.0090076452), (-18.2374090626, -29.4106350975), (-16.6711831176, -28.3172601526))
        make_face()
        with BuildLine():
            ThreePointArc((-19.0775476037, 23.4477705432), (-19.2954980503, 24.710342026), (-19.6675811508, 25.9363694778))
            ThreePointArc((-19.6675811508, 25.9363694778), (-23.0163964383, 23.0163964383), (-25.9363694778, 19.6675811508))
            ThreePointArc((-25.9363694778, 19.6675811508), (-24.710342026, 19.2954980503), (-23.4477705432, 19.0775476037))
            ThreePointArc((-23.4477705432, 19.0775476037), (-20.2145565285, 20.2145565285), (-19.0775476037, 23.4477705432))
        make_face()
        with BuildLine():
            ThreePointArc((-25.9363694778, -19.6675811508), (-23.0163964383, -23.0163964383), (-19.6675811508, -25.9363694778))
            ThreePointArc((-19.6675811508, -25.9363694778), (-19.2954980503, -24.710342026), (-19.0775476037, -23.4477705432))
            ThreePointArc((-19.0775476037, -23.4477705432), (-20.2145565285, -20.2145565285), (-23.4477705432, -19.0775476037))
            ThreePointArc((-23.4477705432, -19.0775476037), (-24.710342026, -19.2954980503), (-25.9363694778, -19.6675811508))
        make_face()
        with BuildLine():
            ThreePointArc((-28.0958945741, 16.4356234471), (-27.0644190274, 18.0838666418), (-25.9363694778, 19.6675811508))
            Line((-25.9363694778, 19.6675811508), (-26.2387111755, 19.7819514948))
            ThreePointArc((-26.2387111755, 19.7819514948), (-28.1041317461, 20.1927295073), (-30.0090076452, 20.0513778537))
            ThreePointArc((-30.0090076452, 20.0513778537), (-29.4106350975, 18.2374090626), (-28.3172601526, 16.6711831176))
            Line((-28.3172601526, 16.6711831176), (-28.0958945741, 16.4356234471))
        make_face()
        with BuildLine():
            Line((-26.2387111755, -19.7819514948), (-25.9363694778, -19.6675811508))
            ThreePointArc((-25.9363694778, -19.6675811508), (-27.0644190274, -18.0838666418), (-28.0958945741, -16.4356234471))
            Line((-28.0958945741, -16.4356234471), (-28.3172601526, -16.6711831176))
            ThreePointArc((-28.3172601526, -16.6711831176), (-29.4106350975, -18.2374090626), (-30.0090076452, -20.0513778537))
            ThreePointArc((-30.0090076452, -20.0513778537), (-28.1041317461, -20.1927295073), (-26.2387111755, -19.7819514948))
        make_face()
        with BuildLine():
            ThreePointArc((-26.5984290744, 14.3622538898), (-27.2829542197, 15.4453118161), (-28.0958945741, 16.4356234471))
            ThreePointArc((-28.0958945741, 16.4356234471), (-30.0723711712, 12.4563839918), (-31.4885383693, 8.2450567844))
            ThreePointArc((-31.4885383693, 8.2450567844), (-30.2134466622, 8.3704772169), (-28.963576686, 8.6522824488))
            ThreePointArc((-28.963576686, 8.6522824488), (-26.4115909116, 10.9400391594), (-26.5984290744, 14.3622538898))
        make_face()
        with BuildLine():
            ThreePointArc((-31.4885383693, -8.2450567844), (-30.0723711712, -12.4563839918), (-28.0958945741, -16.4356234471))
            ThreePointArc((-28.0958945741, -16.4356234471), (-27.2829542197, -15.4453118161), (-26.5984290744, -14.3622538898))
            ThreePointArc((-26.5984290744, -14.3622538898), (-26.4115909116, -10.9400391594), (-28.963576686, -8.6522824488))
            ThreePointArc((-28.963576686, -8.6522824488), (-30.2134466622, -8.3704772169), (-31.4885383693, -8.2450567844))
        make_face()
        with BuildLine():
            ThreePointArc((-32.2468627383, 4.4327027358), (-31.9246589557, 6.3502094907), (-31.4885383693, 8.2450567844))
            Line((-31.4885383693, 8.2450567844), (-31.8116333114, 8.2350200457))
            ThreePointArc((-31.8116333114, 8.2350200457), (-33.6922551359, 7.900663897), (-35.3980380551, 7.0411075501))
            ThreePointArc((-35.3980380551, 7.0411075501), (-34.1510381023, 5.5942061718), (-32.5415226488, 4.5656185547))
            Line((-32.5415226488, 4.5656185547), (-32.2468627383, 4.4327027358))
        make_face()
        with BuildLine():
            Line((-31.8116333114, -8.2350200457), (-31.4885383693, -8.2450567844))
            ThreePointArc((-31.4885383693, -8.2450567844), (-31.9246589557, -6.3502094907), (-32.2468627383, -4.4327027358))
            Line((-32.2468627383, -4.4327027358), (-32.5415226488, -4.5656185547))
            ThreePointArc((-32.5415226488, -4.5656185547), (-34.1510381023, -5.5942061718), (-35.3980380551, -7.0411075501))
            ThreePointArc((-35.3980380551, -7.0411075501), (-33.6922551359, -7.900663897), (-31.8116333114, -8.2350200457))
        make_face()
        with BuildLine():
            ThreePointArc((-30.0699408338, 3.0902142758), (-31.1168279297, 3.8288728943), (-32.2468627383, 4.4327027358))
            ThreePointArc((-32.2468627383, 4.4327027358), (-32.5501, 0), (-32.2468627383, -4.4327027358))
            ThreePointArc((-32.2468627383, -4.4327027358), (-31.1168279297, -3.8288728943), (-30.0699408338, -3.0902142758))
            ThreePointArc((-30.0699408338, -3.0902142758), (-28.5877, 0), (-30.0699408338, 3.0902142758))
        make_face()
    extrude(amount=-F3_DEPTH, mode=Mode.INTERSECT)


solid = f1.part
